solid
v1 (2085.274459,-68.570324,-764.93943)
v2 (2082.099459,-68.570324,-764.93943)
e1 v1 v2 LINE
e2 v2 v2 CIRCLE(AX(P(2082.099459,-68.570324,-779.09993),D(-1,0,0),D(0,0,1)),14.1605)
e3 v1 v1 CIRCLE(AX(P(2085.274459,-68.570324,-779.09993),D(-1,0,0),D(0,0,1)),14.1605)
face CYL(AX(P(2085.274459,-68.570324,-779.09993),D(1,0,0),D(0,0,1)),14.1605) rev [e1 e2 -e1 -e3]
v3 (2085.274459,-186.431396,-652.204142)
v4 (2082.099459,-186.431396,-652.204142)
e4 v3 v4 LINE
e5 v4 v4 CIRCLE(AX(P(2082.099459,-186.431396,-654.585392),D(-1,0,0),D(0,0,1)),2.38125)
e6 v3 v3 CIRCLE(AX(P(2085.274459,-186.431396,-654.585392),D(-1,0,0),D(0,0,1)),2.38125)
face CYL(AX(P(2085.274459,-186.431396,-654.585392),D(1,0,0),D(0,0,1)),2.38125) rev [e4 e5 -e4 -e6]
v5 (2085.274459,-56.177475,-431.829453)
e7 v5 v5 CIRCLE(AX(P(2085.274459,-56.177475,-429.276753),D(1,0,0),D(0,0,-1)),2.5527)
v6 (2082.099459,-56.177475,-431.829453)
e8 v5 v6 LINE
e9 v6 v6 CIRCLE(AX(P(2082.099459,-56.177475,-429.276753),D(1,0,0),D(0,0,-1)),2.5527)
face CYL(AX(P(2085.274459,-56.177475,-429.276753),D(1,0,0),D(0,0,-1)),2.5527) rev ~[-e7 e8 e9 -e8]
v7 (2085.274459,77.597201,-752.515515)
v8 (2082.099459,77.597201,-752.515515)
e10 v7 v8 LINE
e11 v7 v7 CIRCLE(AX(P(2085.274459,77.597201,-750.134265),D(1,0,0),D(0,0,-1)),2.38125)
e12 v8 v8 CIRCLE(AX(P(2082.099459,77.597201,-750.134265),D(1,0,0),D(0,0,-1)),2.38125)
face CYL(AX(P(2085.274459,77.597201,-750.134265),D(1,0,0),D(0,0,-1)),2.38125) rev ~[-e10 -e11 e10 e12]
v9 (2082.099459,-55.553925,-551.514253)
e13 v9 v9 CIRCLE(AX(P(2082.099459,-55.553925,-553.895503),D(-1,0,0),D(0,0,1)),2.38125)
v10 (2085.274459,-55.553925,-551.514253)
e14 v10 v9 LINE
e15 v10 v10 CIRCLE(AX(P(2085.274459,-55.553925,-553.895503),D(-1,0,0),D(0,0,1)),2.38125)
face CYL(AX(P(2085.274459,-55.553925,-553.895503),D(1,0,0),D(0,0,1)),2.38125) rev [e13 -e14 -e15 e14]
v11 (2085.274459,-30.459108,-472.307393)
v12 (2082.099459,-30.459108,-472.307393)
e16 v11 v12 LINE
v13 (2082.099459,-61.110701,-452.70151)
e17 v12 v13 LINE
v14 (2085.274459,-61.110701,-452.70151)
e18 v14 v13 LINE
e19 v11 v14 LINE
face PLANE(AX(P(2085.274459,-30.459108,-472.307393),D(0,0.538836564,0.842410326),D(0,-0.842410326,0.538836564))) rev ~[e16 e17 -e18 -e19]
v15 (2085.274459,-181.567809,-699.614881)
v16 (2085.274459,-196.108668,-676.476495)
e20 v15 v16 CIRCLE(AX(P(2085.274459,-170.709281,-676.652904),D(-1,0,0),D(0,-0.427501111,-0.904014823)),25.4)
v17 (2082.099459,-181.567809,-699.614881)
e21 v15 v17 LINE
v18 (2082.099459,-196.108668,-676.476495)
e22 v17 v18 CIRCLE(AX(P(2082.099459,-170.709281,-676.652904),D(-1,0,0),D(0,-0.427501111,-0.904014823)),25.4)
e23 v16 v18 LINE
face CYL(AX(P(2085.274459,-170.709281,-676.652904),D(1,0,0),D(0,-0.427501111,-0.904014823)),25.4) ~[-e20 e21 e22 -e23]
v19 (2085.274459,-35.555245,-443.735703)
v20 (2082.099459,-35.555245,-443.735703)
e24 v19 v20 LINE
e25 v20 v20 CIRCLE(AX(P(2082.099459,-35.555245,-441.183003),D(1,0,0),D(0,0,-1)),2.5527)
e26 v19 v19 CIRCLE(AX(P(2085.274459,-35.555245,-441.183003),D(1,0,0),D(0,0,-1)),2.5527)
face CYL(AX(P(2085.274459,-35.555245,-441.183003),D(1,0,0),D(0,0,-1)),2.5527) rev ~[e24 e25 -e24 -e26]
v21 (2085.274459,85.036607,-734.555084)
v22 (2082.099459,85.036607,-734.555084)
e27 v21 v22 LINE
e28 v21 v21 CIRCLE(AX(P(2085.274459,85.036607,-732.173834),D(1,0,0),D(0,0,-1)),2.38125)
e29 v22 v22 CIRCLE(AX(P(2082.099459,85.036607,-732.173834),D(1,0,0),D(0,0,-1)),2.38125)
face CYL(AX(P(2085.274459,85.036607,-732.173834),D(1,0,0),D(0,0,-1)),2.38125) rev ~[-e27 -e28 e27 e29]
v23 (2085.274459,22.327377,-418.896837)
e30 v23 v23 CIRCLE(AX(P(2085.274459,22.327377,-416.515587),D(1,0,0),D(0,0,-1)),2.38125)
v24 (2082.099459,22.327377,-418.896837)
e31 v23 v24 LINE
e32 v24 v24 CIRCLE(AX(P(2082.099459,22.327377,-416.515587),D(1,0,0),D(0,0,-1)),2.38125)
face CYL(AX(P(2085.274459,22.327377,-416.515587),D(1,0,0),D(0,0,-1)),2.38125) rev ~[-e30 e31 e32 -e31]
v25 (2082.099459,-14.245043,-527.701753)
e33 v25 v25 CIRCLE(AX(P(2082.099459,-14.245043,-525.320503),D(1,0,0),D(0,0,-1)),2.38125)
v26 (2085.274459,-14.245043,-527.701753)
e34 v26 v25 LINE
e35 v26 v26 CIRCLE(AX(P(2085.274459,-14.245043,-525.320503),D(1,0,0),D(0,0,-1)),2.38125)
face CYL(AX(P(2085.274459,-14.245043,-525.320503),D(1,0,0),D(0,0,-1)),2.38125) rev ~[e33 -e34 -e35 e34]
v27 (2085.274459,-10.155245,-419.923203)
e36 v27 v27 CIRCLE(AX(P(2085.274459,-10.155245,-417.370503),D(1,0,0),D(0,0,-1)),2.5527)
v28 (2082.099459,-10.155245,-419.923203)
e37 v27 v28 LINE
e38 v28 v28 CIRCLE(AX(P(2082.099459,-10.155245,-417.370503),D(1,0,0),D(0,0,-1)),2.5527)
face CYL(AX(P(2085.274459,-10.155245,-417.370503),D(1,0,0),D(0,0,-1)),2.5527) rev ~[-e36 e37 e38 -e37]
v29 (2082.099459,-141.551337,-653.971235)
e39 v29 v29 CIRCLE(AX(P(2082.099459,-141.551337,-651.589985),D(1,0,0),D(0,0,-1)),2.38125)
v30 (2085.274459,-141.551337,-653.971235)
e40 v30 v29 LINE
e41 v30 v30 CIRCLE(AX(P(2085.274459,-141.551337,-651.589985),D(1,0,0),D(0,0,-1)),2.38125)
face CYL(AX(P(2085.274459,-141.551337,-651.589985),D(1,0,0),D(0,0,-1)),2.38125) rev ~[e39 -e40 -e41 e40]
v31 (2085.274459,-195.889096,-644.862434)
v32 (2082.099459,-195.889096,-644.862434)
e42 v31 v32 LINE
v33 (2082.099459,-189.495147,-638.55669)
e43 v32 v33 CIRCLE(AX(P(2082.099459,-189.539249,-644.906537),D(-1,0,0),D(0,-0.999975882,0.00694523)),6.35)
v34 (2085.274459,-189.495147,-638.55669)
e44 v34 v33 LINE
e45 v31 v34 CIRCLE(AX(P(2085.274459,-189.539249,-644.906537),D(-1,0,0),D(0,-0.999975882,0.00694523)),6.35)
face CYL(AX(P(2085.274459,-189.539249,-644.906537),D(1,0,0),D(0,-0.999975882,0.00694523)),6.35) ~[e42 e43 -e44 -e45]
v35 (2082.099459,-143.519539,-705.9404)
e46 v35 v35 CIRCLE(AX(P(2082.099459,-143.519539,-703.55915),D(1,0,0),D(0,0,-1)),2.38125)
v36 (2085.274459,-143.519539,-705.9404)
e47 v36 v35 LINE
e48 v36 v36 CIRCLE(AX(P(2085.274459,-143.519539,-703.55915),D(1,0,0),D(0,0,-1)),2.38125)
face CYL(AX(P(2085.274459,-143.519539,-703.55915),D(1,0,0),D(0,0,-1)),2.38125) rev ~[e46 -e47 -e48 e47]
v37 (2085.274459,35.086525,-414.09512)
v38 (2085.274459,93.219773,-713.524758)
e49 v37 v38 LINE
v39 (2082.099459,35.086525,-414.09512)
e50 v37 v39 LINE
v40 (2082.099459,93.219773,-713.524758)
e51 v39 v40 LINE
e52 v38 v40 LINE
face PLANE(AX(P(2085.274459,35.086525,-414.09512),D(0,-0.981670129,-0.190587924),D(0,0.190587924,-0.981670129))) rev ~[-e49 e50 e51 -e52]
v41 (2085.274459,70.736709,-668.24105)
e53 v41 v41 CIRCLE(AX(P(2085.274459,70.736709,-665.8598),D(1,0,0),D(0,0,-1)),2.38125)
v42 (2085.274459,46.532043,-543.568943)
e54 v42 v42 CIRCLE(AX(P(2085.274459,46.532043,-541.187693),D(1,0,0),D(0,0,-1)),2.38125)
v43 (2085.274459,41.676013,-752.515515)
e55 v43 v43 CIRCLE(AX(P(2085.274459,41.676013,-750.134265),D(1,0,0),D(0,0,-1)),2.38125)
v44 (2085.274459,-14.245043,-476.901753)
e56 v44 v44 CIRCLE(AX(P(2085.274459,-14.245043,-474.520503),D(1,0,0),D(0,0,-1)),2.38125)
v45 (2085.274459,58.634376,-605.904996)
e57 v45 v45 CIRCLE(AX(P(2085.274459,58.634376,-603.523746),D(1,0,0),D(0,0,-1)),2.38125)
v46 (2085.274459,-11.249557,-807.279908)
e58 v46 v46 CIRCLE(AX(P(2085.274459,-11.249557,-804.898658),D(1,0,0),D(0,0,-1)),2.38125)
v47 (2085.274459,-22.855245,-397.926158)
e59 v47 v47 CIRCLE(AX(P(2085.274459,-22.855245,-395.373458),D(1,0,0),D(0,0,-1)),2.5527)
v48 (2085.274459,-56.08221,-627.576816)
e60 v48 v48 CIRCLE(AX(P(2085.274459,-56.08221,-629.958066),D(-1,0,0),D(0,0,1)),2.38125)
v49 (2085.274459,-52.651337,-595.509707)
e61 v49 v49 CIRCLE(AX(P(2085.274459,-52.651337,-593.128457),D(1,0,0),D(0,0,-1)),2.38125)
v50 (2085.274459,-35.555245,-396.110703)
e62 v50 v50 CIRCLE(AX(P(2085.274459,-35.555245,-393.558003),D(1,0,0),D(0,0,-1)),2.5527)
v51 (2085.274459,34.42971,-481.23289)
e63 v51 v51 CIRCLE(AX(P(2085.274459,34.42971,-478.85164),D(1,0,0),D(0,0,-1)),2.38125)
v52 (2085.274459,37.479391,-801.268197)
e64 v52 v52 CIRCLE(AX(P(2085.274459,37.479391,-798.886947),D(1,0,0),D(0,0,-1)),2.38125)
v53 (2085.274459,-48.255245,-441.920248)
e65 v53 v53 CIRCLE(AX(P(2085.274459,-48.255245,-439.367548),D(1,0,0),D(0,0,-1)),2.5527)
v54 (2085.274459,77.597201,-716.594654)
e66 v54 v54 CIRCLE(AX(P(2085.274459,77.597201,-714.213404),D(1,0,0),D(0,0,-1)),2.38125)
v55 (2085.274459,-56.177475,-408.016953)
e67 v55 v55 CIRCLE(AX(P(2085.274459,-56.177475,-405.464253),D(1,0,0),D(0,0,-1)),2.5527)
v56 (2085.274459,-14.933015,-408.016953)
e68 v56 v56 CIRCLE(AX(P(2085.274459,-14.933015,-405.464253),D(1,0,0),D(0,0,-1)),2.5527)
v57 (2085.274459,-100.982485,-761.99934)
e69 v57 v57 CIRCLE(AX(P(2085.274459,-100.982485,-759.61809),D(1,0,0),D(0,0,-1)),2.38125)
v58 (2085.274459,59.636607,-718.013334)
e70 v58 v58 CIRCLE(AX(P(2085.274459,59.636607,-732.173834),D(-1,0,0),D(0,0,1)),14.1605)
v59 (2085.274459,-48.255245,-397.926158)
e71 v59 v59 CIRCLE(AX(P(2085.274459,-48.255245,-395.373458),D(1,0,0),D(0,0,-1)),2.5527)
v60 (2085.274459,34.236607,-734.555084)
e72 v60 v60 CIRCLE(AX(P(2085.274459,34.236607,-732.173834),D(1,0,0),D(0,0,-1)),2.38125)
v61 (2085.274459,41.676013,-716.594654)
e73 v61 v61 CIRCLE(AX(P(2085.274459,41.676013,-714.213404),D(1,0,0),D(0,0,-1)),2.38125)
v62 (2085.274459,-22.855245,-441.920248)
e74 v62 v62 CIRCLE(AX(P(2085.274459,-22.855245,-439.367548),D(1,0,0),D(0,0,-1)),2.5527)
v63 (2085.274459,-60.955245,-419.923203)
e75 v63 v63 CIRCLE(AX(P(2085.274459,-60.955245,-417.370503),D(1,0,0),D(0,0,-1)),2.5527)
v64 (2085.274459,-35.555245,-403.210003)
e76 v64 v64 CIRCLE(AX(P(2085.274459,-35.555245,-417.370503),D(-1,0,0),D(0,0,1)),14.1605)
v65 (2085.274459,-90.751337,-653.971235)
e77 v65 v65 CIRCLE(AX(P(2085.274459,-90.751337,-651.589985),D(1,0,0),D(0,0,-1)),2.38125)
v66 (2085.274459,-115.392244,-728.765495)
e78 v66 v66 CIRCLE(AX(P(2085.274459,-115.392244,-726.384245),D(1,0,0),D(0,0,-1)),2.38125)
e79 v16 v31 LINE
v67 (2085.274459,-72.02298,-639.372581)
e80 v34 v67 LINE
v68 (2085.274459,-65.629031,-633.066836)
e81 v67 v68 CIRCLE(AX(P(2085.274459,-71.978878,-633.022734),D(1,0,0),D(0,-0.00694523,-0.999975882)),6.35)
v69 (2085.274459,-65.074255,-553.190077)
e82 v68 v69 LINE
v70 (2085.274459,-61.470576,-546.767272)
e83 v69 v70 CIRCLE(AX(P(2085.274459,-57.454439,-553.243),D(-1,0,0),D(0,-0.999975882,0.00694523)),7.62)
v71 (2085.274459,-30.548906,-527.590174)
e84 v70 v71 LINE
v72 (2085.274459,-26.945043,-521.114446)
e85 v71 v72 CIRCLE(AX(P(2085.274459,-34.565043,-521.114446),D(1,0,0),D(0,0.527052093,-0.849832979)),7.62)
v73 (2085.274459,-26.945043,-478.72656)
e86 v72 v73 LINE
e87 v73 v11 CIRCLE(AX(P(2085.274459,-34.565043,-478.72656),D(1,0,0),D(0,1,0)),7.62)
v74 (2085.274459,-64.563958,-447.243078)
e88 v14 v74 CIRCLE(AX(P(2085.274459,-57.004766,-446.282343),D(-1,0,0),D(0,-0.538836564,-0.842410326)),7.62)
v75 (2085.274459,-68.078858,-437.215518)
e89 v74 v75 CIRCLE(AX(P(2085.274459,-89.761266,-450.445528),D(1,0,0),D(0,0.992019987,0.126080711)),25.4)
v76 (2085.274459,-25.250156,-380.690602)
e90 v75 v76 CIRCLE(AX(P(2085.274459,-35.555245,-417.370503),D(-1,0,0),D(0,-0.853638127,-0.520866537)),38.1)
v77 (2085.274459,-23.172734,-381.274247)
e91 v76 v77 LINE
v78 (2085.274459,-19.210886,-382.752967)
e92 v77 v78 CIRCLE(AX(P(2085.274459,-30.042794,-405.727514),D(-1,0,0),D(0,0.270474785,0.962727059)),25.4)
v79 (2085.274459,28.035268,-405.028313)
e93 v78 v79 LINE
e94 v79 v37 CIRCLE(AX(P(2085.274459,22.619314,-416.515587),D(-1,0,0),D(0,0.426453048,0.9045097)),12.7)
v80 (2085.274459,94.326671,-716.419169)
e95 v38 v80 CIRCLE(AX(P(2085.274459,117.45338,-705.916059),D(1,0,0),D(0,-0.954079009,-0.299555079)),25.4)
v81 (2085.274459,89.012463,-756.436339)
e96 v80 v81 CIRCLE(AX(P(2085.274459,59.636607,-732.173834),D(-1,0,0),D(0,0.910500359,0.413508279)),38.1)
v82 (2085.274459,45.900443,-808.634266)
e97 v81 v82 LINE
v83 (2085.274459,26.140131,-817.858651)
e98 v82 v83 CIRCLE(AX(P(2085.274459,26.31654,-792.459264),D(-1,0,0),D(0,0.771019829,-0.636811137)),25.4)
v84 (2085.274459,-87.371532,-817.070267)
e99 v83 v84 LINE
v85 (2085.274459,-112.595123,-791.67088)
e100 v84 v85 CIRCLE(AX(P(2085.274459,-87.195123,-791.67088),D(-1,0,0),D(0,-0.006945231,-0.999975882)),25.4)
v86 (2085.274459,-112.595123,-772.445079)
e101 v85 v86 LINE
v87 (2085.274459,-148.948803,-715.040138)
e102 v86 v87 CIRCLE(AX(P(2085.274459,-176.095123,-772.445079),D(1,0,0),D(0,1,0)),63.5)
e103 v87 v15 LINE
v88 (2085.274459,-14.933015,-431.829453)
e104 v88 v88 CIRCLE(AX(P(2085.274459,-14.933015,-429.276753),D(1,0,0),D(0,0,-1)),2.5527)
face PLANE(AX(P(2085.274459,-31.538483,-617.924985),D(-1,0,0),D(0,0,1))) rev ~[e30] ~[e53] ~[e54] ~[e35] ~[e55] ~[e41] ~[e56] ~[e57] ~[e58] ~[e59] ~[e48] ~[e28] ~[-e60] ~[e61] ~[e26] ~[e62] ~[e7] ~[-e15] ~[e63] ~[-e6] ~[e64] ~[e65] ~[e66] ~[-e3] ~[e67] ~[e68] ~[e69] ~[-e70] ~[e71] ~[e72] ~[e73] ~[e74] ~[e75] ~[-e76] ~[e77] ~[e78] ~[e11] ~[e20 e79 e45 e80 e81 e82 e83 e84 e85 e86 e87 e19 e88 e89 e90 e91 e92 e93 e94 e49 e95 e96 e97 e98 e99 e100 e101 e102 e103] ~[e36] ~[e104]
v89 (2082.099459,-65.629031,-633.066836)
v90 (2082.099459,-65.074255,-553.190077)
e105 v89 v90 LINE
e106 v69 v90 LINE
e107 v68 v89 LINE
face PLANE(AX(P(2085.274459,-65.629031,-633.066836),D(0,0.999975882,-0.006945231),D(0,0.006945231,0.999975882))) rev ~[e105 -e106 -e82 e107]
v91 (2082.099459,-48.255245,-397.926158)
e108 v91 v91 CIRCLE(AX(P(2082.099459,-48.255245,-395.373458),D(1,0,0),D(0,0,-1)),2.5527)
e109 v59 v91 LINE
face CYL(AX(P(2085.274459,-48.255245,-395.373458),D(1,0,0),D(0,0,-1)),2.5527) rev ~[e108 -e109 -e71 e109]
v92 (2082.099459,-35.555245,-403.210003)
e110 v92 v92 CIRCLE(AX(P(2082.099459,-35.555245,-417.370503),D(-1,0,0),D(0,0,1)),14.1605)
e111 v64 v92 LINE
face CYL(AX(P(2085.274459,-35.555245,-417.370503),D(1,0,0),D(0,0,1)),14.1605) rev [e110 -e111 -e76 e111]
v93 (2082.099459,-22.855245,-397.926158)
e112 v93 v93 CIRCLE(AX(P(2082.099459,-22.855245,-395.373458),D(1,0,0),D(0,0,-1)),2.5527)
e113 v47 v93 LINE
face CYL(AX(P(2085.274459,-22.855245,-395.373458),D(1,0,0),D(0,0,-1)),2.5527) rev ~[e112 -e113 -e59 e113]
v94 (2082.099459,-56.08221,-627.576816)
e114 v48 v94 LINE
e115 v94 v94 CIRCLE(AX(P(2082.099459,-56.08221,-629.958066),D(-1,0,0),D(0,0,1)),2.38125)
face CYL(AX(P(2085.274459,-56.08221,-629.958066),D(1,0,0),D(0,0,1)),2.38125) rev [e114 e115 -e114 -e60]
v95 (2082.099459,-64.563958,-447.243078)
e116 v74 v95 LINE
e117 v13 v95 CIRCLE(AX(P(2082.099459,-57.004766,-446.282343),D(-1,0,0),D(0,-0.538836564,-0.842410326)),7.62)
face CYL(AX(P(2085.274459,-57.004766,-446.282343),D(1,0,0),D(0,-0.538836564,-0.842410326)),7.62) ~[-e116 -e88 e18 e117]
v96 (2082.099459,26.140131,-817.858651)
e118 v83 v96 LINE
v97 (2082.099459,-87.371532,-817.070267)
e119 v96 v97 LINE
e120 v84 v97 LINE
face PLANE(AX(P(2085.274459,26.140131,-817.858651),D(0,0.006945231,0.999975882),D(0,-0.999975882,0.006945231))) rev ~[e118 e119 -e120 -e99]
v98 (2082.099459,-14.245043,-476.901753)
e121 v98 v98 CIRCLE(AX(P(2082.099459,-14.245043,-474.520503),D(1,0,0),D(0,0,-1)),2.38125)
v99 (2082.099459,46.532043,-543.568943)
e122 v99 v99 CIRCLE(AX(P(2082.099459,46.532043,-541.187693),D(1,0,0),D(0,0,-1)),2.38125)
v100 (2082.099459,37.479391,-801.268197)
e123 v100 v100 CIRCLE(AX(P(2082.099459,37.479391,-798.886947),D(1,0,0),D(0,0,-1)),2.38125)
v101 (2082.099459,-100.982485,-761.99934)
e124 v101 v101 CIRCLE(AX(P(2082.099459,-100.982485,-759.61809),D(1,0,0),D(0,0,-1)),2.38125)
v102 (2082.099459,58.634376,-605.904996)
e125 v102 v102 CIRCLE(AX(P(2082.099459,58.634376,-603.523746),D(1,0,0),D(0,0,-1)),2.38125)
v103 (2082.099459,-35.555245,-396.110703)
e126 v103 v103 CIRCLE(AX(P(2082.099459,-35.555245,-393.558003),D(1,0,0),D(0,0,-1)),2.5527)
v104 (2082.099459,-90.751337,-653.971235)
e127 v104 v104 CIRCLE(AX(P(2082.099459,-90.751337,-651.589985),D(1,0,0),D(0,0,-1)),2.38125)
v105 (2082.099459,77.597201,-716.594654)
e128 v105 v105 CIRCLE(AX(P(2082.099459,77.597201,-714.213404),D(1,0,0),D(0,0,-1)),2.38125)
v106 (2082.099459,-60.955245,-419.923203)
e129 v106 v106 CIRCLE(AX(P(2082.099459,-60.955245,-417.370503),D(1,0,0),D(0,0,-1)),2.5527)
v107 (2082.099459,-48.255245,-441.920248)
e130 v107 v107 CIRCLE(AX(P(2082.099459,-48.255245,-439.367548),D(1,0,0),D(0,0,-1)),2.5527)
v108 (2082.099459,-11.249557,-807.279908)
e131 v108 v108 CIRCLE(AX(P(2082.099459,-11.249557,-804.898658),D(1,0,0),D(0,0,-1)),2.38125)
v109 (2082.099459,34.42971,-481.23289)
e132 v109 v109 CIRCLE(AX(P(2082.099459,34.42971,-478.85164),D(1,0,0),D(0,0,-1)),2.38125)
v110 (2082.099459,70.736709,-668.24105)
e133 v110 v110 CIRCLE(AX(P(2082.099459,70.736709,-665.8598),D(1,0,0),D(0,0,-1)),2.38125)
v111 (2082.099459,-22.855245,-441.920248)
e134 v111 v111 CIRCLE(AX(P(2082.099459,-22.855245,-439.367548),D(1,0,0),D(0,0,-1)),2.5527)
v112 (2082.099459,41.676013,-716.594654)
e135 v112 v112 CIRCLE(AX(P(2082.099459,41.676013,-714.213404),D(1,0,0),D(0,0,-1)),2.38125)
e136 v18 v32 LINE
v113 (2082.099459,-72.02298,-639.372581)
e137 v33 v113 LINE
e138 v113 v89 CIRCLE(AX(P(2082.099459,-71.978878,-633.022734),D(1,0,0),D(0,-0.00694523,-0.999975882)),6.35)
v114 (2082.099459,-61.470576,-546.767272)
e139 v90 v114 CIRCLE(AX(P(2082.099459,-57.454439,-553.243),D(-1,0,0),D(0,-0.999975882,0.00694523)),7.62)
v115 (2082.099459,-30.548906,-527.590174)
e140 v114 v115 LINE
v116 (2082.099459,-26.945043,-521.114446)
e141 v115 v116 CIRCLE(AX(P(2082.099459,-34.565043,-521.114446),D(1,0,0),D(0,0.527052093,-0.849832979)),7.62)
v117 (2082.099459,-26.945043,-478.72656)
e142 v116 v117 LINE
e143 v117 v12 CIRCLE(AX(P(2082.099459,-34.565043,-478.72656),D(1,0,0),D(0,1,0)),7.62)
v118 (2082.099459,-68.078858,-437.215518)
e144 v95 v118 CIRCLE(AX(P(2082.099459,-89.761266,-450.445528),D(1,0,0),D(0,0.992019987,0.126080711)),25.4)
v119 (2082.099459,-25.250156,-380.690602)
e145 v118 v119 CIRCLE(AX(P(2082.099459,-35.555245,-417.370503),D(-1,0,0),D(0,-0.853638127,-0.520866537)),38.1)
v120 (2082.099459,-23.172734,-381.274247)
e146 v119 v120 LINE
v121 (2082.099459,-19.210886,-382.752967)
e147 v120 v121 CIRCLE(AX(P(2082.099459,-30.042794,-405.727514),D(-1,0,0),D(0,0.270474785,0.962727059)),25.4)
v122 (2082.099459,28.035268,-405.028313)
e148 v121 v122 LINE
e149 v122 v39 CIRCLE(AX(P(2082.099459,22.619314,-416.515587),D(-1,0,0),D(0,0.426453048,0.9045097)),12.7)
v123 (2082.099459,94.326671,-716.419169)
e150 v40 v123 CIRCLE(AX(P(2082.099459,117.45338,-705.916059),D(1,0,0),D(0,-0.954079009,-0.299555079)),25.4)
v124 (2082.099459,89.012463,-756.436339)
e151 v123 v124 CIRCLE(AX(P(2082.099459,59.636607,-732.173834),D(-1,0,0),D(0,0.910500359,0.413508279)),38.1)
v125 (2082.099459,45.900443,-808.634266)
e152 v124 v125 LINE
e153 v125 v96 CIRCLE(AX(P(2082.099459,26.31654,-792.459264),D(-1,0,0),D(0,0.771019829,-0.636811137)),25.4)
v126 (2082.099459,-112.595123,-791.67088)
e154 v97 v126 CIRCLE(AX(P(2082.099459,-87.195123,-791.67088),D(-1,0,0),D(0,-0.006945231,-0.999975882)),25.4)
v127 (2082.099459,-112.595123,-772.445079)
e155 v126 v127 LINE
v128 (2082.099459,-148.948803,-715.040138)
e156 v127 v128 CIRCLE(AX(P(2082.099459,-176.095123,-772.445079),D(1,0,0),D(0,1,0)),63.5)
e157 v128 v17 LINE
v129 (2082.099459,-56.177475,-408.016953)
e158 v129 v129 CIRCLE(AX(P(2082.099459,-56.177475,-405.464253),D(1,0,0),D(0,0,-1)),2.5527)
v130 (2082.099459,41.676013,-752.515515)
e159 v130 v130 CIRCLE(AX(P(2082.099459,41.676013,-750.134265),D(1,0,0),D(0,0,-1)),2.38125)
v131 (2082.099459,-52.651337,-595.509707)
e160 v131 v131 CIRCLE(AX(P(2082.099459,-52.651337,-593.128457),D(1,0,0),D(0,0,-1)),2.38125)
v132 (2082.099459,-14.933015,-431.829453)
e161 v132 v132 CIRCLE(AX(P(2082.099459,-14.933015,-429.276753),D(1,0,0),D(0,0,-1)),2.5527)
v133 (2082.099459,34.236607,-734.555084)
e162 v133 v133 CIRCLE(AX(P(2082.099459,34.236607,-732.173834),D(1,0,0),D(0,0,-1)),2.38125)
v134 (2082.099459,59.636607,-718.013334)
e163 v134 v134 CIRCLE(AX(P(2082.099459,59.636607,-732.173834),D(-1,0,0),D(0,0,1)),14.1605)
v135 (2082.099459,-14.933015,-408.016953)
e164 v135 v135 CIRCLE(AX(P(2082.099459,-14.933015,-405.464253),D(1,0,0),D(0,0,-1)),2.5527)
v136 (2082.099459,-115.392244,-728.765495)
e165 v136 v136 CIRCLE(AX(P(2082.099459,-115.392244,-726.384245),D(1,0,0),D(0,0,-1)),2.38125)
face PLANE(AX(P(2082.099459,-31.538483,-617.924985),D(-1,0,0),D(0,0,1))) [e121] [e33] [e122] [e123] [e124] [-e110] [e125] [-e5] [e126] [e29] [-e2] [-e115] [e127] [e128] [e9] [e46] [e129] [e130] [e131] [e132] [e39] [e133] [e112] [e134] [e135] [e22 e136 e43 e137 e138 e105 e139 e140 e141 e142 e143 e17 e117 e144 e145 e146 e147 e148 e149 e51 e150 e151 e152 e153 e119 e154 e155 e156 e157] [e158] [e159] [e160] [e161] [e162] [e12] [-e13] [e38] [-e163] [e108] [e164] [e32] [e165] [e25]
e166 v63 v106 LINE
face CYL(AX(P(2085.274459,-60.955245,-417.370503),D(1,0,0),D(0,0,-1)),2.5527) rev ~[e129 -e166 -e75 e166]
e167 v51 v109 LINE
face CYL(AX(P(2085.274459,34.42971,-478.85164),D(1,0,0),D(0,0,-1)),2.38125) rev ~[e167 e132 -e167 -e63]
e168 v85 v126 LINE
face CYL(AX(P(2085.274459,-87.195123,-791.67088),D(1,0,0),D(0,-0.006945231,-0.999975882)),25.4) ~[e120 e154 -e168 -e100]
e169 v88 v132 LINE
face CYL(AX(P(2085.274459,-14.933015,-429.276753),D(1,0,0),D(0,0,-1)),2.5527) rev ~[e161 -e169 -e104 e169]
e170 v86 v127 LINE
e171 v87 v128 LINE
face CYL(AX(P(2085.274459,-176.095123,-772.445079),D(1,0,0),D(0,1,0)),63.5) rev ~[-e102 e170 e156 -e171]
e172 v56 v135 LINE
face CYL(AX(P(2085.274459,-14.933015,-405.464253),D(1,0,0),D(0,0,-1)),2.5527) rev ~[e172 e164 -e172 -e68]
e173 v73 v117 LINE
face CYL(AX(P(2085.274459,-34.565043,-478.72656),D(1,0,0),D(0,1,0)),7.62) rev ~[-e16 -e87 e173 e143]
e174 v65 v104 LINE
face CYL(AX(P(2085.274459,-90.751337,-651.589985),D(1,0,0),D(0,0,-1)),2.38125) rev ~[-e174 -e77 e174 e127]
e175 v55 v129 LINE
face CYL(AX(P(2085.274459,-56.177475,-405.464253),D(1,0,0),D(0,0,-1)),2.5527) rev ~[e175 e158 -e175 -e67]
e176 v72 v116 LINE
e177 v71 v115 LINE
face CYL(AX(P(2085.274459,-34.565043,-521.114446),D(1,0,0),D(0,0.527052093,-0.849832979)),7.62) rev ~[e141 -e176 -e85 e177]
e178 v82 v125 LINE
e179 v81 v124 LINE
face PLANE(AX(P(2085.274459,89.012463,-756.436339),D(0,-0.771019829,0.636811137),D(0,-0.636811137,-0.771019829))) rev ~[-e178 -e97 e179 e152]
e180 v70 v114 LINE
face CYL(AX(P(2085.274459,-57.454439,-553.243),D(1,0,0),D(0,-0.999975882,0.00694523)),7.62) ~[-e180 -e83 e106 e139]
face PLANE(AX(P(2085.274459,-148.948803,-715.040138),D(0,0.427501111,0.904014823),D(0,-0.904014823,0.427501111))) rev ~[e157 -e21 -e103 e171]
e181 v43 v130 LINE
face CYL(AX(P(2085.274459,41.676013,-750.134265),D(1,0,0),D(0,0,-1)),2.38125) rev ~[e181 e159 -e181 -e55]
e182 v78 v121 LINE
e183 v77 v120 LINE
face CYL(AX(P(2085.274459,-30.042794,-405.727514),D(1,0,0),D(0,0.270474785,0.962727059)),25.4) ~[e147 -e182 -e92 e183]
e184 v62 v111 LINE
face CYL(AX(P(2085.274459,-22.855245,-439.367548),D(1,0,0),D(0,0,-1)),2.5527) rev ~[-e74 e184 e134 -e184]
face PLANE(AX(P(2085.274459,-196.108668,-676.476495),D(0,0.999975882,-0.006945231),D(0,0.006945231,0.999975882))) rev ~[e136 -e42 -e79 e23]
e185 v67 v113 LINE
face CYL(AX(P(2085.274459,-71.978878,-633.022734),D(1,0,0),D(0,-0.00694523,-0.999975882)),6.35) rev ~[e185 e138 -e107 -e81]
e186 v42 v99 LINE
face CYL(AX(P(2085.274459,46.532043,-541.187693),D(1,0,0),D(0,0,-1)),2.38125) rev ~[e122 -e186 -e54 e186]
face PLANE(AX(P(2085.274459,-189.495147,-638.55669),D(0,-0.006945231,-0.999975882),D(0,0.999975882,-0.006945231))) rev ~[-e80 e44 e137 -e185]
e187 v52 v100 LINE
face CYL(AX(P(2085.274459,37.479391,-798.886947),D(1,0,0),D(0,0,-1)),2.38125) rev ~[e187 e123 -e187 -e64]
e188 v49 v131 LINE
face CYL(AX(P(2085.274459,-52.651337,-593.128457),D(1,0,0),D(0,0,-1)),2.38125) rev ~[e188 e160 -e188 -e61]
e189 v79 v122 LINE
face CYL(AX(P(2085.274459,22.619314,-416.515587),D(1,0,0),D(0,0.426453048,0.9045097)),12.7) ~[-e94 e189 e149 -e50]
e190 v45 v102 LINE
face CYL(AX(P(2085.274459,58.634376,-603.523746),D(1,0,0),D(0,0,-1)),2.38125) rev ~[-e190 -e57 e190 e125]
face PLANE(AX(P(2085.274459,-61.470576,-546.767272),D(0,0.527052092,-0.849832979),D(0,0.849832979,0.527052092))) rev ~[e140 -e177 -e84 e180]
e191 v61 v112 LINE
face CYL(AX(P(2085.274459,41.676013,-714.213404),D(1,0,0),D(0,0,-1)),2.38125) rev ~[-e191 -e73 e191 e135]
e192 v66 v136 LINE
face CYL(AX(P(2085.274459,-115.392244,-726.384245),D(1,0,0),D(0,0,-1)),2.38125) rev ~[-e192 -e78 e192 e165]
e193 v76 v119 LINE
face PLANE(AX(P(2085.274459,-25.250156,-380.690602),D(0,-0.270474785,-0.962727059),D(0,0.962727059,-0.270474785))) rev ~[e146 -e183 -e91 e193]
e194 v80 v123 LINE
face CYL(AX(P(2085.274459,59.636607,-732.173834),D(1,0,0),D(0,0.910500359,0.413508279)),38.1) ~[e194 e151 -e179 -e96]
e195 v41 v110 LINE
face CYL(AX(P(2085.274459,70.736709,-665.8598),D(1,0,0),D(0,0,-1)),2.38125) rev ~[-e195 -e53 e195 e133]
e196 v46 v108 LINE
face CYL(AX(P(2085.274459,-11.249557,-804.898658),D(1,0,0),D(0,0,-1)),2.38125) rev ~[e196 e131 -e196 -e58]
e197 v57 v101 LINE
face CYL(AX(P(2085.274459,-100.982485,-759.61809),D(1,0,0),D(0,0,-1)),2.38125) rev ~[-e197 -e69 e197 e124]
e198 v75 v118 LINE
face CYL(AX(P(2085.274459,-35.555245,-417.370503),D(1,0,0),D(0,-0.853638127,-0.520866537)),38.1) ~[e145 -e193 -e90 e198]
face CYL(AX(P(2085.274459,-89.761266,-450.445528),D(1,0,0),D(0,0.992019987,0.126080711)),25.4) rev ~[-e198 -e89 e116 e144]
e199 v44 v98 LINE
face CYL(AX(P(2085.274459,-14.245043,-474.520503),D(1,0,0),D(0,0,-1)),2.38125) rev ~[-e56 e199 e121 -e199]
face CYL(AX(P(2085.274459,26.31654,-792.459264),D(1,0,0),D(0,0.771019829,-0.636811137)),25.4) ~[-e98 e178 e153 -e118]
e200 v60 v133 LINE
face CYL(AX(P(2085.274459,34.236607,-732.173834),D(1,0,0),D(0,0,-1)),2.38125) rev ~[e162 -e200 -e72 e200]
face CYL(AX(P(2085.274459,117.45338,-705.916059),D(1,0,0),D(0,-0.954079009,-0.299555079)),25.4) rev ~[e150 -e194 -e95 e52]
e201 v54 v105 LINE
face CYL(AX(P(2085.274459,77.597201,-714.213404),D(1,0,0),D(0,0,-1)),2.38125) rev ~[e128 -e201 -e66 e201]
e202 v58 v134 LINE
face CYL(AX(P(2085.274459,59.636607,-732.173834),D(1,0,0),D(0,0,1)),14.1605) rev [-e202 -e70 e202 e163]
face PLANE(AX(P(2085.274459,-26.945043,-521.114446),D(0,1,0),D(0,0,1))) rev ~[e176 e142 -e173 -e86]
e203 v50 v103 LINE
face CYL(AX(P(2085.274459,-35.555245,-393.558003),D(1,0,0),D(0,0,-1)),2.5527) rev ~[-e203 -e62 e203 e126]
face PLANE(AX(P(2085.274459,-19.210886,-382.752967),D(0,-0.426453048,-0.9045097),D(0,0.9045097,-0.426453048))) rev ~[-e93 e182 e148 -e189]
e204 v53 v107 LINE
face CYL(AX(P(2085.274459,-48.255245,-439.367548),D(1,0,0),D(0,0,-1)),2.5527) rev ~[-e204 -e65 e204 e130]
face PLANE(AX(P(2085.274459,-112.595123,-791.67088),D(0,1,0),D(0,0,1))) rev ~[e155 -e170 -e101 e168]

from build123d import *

# Parameters (mm, degrees)
SKETCH1_R           = 14.1605
SKETCH1_R_2         = 2.38125
BOSS_EXTRUDE2_DEPTH = 3.175
SKETCH2_R           = 2.38125
CUT_EXTRUDE1_DEPTH  = 4.175
SKETCH3_R           = 2.38125
CUT_EXTRUDE2_DEPTH  = 3.175
SKETCH6_R           = 2.5527
CUT_EXTRUDE3_DEPTH  = 4.175


with BuildPart() as part:
    # Sketch1 → Boss-Extrude2 (new body)
    with BuildSketch(Plane.ZY.offset(-2085.27445945)):
        with BuildLine():
            Line((-676.476495312, -196.108668054), (-644.862434405, -195.889095816))
            ThreePointArc((-644.862434405, -195.889095816), (-640.385331878, -193.998083759), (-638.556689771, -189.495146754))
            Line((-638.556689771, -189.495146754), (-639.372580729, -72.022980064))
            ThreePointArc((-639.372580729, -72.022980064), (-637.543938621, -67.520043059), (-633.066836095, -65.629031002))
            Line((-633.066836095, -65.629031002), (-553.190076911, -65.074255113))
            ThreePointArc((-553.190076911, -65.074255113), (-549.514401488, -64.099885183), (-546.767272269, -61.470575839))
            Line((-546.767272269, -61.470575839), (-527.590173696, -30.548905962))
            ThreePointArc((-527.590173696, -30.548905962), (-524.819944777, -27.906688623), (-521.114446397, -26.945042905))
            Line((-521.114446397, -26.945042905), (-478.726560046, -26.945042905))
            ThreePointArc((-478.726560046, -26.945042905), (-475.067517944, -27.88104628), (-472.307393362, -30.459108288))
            Line((-472.307393362, -30.459108288), (-452.701509897, -61.110700599))
            ThreePointArc((-452.701509897, -61.110700599), (-450.356282883, -63.444285805), (-447.243078231, -64.563958281))
            ThreePointArc((-447.243078231, -64.563958281), (-442.043441328, -65.791181786), (-437.215518263, -68.078857532))
            ThreePointArc((-437.215518263, -68.078857532), (-394.361205687, -65.922698326), (-380.69060226, -25.250155611))
            Line((-380.69060226, -25.250155611), (-381.274246521, -23.172734147))
            ThreePointArc((-381.274246521, -23.172734147), (-381.931013294, -21.160982924), (-382.752967438, -19.210886269))
            Line((-382.752967438, -19.210886269), (-405.028313451, 28.035268168))
            ThreePointArc((-405.028313451, 28.035268168), (-408.719025679, 32.64446469), (-414.095120009, 35.086525107))
            Line((-414.095120009, 35.086525107), (-713.524757665, 93.219773114))
            ThreePointArc((-713.524757665, 93.219773114), (-714.988859477, 93.729040419), (-716.419168956, 94.326670824))
            ThreePointArc((-716.419168956, 94.326670824), (-737.189413392, 97.405032689), (-756.436338691, 89.012462628))
            Line((-756.436338691, 89.012462628), (-808.634266444, 45.900443365))
            ThreePointArc((-808.634266444, 45.900443365), (-815.475018373, 37.06060929), (-817.858650965, 26.140130862))
            Line((-817.858650965, 26.140130862), (-817.070267282, -87.371532031))
            ThreePointArc((-817.070267282, -87.371532031), (-809.568913511, -105.217897447), (-791.670879889, -112.595123175))
            Line((-791.670879889, -112.595123175), (-772.445079401, -112.595123175))
            ThreePointArc((-772.445079401, -112.595123175), (-738.471128747, -122.447936138), (-715.040138137, -148.948802642))
            Line((-715.040138137, -148.948802642), (-699.614880674, -181.567808874))
            ThreePointArc((-699.614880674, -181.567808874), (-690.167883624, -192.215217755), (-676.476495312, -196.108668054))
        make_face()
        with Locations((-732.173834383, 59.636607157)):
            Circle(SKETCH1_R, mode=Mode.SUBTRACT)
        with Locations((-779.099930223, -68.570323835)):
            Circle(SKETCH1_R, mode=Mode.SUBTRACT)
        with Locations((-654.585392145, -186.431395895)):
            Circle(SKETCH1_R_2, mode=Mode.SUBTRACT)
        with Locations((-629.958065992, -56.082209622)):
            Circle(SKETCH1_R_2, mode=Mode.SUBTRACT)
        with Locations((-553.895503221, -55.553924847)):
            Circle(SKETCH1_R_2, mode=Mode.SUBTRACT)
        with Locations((-417.370503221, -35.55524491)):
            Circle(SKETCH1_R, mode=Mode.SUBTRACT)
    extrude(amount=BOSS_EXTRUDE2_DEPTH)

    # Sketch2 → Cut-Extrude1 (cut, through all)
    with BuildSketch(Plane(origin=(2085.27445945, 0, 0), x_dir=(0, 0, -1), z_dir=(1, 0, 0))):
        with Locations((732.173834383, 85.036607157)):
            Circle(SKETCH2_R)
        with Locations((732.173834383, 34.236607157)):
            Circle(SKETCH2_R)
        with Locations((750.134264867, 41.676013157)):
            Circle(SKETCH2_R)
        with Locations((714.213403899, 77.597201157)):
            Circle(SKETCH2_R)
        with Locations((750.134264867, 77.597201157)):
            Circle(SKETCH2_R)
        with Locations((714.213403899, 41.676013157)):
            Circle(SKETCH2_R)
    extrude(amount=-CUT_EXTRUDE1_DEPTH, mode=Mode.SUBTRACT)

    # Sketch3 → Cut-Extrude2 (cut)
    with BuildSketch(Plane(origin=(2085.27445945, 0, 0), x_dir=(0, 0, -1), z_dir=(1, 0, 0))):
        with Locations((759.618090186, -100.982485439)):
            Circle(SKETCH3_R)
        with Locations((541.187693092, 46.53204311)):
            Circle(SKETCH3_R)
        with Locations((478.851639869, 34.42970992)):
            Circle(SKETCH3_R)
        with Locations((416.515586647, 22.327376731)):
            Circle(SKETCH3_R)
        with Locations((525.320503221, -14.245042905)):
            Circle(SKETCH3_R)
        with Locations((798.886947172, 37.479390763)):
            Circle(SKETCH3_R)
        with Locations((665.859799537, 70.736709489)):
            Circle(SKETCH3_R)
        with Locations((603.523746314, 58.634376299)):
            Circle(SKETCH3_R)
        with Locations((703.559149884, -143.519538535)):
            Circle(SKETCH3_R)
        with Locations((726.384244699, -115.392244277)):
            Circle(SKETCH3_R)
        with Locations((804.898658391, -11.249556635)):
            Circle(SKETCH3_R)
        with Locations((474.520503221, -14.245042905)):
            Circle(SKETCH3_R)
        with Locations((651.589984927, -141.551336746)):
            Circle(SKETCH3_R)
        with Locations((651.589984927, -90.751336746)):
            Circle(SKETCH3_R)
        with Locations((593.128456503, -52.651336746)):
            Circle(SKETCH3_R)
    extrude(amount=-CUT_EXTRUDE2_DEPTH, mode=Mode.SUBTRACT)

    # Sketch6 → Cut-Extrude3 (cut, through all)
    with BuildSketch(Plane(origin=(2085.27445945, 0, 0), x_dir=(0, 0, -1), z_dir=(1, 0, 0))):
        with Locations((395.373457966, -48.25524491)):
            Circle(SKETCH6_R)
        with Locations((405.464253222, -56.177474837)):
            Circle(SKETCH6_R)
        with Locations((395.373457966, -22.85524491)):
            Circle(SKETCH6_R)
        with Locations((393.558003223, -35.55524491)):
            Circle(SKETCH6_R)
        with Locations((417.370503221, -10.15524491)):
            Circle(SKETCH6_R)
        with Locations((405.464253222, -14.933014983)):
            Circle(SKETCH6_R)
        with Locations((439.367548477, -22.85524491)):
            Circle(SKETCH6_R)
        with Locations((429.276753221, -14.933014983)):
            Circle(SKETCH6_R)
        with Locations((439.367548477, -48.25524491)):
            Circle(SKETCH6_R)
        with Locations((441.18300322, -35.55524491)):
            Circle(SKETCH6_R)
        with Locations((417.370503221, -60.95524491)):
            Circle(SKETCH6_R)
        with Locations((429.276753221, -56.177474837)):
            Circle(SKETCH6_R)
    extrude(amount=-CUT_EXTRUDE3_DEPTH, mode=Mode.SUBTRACT)


solid = part.part
